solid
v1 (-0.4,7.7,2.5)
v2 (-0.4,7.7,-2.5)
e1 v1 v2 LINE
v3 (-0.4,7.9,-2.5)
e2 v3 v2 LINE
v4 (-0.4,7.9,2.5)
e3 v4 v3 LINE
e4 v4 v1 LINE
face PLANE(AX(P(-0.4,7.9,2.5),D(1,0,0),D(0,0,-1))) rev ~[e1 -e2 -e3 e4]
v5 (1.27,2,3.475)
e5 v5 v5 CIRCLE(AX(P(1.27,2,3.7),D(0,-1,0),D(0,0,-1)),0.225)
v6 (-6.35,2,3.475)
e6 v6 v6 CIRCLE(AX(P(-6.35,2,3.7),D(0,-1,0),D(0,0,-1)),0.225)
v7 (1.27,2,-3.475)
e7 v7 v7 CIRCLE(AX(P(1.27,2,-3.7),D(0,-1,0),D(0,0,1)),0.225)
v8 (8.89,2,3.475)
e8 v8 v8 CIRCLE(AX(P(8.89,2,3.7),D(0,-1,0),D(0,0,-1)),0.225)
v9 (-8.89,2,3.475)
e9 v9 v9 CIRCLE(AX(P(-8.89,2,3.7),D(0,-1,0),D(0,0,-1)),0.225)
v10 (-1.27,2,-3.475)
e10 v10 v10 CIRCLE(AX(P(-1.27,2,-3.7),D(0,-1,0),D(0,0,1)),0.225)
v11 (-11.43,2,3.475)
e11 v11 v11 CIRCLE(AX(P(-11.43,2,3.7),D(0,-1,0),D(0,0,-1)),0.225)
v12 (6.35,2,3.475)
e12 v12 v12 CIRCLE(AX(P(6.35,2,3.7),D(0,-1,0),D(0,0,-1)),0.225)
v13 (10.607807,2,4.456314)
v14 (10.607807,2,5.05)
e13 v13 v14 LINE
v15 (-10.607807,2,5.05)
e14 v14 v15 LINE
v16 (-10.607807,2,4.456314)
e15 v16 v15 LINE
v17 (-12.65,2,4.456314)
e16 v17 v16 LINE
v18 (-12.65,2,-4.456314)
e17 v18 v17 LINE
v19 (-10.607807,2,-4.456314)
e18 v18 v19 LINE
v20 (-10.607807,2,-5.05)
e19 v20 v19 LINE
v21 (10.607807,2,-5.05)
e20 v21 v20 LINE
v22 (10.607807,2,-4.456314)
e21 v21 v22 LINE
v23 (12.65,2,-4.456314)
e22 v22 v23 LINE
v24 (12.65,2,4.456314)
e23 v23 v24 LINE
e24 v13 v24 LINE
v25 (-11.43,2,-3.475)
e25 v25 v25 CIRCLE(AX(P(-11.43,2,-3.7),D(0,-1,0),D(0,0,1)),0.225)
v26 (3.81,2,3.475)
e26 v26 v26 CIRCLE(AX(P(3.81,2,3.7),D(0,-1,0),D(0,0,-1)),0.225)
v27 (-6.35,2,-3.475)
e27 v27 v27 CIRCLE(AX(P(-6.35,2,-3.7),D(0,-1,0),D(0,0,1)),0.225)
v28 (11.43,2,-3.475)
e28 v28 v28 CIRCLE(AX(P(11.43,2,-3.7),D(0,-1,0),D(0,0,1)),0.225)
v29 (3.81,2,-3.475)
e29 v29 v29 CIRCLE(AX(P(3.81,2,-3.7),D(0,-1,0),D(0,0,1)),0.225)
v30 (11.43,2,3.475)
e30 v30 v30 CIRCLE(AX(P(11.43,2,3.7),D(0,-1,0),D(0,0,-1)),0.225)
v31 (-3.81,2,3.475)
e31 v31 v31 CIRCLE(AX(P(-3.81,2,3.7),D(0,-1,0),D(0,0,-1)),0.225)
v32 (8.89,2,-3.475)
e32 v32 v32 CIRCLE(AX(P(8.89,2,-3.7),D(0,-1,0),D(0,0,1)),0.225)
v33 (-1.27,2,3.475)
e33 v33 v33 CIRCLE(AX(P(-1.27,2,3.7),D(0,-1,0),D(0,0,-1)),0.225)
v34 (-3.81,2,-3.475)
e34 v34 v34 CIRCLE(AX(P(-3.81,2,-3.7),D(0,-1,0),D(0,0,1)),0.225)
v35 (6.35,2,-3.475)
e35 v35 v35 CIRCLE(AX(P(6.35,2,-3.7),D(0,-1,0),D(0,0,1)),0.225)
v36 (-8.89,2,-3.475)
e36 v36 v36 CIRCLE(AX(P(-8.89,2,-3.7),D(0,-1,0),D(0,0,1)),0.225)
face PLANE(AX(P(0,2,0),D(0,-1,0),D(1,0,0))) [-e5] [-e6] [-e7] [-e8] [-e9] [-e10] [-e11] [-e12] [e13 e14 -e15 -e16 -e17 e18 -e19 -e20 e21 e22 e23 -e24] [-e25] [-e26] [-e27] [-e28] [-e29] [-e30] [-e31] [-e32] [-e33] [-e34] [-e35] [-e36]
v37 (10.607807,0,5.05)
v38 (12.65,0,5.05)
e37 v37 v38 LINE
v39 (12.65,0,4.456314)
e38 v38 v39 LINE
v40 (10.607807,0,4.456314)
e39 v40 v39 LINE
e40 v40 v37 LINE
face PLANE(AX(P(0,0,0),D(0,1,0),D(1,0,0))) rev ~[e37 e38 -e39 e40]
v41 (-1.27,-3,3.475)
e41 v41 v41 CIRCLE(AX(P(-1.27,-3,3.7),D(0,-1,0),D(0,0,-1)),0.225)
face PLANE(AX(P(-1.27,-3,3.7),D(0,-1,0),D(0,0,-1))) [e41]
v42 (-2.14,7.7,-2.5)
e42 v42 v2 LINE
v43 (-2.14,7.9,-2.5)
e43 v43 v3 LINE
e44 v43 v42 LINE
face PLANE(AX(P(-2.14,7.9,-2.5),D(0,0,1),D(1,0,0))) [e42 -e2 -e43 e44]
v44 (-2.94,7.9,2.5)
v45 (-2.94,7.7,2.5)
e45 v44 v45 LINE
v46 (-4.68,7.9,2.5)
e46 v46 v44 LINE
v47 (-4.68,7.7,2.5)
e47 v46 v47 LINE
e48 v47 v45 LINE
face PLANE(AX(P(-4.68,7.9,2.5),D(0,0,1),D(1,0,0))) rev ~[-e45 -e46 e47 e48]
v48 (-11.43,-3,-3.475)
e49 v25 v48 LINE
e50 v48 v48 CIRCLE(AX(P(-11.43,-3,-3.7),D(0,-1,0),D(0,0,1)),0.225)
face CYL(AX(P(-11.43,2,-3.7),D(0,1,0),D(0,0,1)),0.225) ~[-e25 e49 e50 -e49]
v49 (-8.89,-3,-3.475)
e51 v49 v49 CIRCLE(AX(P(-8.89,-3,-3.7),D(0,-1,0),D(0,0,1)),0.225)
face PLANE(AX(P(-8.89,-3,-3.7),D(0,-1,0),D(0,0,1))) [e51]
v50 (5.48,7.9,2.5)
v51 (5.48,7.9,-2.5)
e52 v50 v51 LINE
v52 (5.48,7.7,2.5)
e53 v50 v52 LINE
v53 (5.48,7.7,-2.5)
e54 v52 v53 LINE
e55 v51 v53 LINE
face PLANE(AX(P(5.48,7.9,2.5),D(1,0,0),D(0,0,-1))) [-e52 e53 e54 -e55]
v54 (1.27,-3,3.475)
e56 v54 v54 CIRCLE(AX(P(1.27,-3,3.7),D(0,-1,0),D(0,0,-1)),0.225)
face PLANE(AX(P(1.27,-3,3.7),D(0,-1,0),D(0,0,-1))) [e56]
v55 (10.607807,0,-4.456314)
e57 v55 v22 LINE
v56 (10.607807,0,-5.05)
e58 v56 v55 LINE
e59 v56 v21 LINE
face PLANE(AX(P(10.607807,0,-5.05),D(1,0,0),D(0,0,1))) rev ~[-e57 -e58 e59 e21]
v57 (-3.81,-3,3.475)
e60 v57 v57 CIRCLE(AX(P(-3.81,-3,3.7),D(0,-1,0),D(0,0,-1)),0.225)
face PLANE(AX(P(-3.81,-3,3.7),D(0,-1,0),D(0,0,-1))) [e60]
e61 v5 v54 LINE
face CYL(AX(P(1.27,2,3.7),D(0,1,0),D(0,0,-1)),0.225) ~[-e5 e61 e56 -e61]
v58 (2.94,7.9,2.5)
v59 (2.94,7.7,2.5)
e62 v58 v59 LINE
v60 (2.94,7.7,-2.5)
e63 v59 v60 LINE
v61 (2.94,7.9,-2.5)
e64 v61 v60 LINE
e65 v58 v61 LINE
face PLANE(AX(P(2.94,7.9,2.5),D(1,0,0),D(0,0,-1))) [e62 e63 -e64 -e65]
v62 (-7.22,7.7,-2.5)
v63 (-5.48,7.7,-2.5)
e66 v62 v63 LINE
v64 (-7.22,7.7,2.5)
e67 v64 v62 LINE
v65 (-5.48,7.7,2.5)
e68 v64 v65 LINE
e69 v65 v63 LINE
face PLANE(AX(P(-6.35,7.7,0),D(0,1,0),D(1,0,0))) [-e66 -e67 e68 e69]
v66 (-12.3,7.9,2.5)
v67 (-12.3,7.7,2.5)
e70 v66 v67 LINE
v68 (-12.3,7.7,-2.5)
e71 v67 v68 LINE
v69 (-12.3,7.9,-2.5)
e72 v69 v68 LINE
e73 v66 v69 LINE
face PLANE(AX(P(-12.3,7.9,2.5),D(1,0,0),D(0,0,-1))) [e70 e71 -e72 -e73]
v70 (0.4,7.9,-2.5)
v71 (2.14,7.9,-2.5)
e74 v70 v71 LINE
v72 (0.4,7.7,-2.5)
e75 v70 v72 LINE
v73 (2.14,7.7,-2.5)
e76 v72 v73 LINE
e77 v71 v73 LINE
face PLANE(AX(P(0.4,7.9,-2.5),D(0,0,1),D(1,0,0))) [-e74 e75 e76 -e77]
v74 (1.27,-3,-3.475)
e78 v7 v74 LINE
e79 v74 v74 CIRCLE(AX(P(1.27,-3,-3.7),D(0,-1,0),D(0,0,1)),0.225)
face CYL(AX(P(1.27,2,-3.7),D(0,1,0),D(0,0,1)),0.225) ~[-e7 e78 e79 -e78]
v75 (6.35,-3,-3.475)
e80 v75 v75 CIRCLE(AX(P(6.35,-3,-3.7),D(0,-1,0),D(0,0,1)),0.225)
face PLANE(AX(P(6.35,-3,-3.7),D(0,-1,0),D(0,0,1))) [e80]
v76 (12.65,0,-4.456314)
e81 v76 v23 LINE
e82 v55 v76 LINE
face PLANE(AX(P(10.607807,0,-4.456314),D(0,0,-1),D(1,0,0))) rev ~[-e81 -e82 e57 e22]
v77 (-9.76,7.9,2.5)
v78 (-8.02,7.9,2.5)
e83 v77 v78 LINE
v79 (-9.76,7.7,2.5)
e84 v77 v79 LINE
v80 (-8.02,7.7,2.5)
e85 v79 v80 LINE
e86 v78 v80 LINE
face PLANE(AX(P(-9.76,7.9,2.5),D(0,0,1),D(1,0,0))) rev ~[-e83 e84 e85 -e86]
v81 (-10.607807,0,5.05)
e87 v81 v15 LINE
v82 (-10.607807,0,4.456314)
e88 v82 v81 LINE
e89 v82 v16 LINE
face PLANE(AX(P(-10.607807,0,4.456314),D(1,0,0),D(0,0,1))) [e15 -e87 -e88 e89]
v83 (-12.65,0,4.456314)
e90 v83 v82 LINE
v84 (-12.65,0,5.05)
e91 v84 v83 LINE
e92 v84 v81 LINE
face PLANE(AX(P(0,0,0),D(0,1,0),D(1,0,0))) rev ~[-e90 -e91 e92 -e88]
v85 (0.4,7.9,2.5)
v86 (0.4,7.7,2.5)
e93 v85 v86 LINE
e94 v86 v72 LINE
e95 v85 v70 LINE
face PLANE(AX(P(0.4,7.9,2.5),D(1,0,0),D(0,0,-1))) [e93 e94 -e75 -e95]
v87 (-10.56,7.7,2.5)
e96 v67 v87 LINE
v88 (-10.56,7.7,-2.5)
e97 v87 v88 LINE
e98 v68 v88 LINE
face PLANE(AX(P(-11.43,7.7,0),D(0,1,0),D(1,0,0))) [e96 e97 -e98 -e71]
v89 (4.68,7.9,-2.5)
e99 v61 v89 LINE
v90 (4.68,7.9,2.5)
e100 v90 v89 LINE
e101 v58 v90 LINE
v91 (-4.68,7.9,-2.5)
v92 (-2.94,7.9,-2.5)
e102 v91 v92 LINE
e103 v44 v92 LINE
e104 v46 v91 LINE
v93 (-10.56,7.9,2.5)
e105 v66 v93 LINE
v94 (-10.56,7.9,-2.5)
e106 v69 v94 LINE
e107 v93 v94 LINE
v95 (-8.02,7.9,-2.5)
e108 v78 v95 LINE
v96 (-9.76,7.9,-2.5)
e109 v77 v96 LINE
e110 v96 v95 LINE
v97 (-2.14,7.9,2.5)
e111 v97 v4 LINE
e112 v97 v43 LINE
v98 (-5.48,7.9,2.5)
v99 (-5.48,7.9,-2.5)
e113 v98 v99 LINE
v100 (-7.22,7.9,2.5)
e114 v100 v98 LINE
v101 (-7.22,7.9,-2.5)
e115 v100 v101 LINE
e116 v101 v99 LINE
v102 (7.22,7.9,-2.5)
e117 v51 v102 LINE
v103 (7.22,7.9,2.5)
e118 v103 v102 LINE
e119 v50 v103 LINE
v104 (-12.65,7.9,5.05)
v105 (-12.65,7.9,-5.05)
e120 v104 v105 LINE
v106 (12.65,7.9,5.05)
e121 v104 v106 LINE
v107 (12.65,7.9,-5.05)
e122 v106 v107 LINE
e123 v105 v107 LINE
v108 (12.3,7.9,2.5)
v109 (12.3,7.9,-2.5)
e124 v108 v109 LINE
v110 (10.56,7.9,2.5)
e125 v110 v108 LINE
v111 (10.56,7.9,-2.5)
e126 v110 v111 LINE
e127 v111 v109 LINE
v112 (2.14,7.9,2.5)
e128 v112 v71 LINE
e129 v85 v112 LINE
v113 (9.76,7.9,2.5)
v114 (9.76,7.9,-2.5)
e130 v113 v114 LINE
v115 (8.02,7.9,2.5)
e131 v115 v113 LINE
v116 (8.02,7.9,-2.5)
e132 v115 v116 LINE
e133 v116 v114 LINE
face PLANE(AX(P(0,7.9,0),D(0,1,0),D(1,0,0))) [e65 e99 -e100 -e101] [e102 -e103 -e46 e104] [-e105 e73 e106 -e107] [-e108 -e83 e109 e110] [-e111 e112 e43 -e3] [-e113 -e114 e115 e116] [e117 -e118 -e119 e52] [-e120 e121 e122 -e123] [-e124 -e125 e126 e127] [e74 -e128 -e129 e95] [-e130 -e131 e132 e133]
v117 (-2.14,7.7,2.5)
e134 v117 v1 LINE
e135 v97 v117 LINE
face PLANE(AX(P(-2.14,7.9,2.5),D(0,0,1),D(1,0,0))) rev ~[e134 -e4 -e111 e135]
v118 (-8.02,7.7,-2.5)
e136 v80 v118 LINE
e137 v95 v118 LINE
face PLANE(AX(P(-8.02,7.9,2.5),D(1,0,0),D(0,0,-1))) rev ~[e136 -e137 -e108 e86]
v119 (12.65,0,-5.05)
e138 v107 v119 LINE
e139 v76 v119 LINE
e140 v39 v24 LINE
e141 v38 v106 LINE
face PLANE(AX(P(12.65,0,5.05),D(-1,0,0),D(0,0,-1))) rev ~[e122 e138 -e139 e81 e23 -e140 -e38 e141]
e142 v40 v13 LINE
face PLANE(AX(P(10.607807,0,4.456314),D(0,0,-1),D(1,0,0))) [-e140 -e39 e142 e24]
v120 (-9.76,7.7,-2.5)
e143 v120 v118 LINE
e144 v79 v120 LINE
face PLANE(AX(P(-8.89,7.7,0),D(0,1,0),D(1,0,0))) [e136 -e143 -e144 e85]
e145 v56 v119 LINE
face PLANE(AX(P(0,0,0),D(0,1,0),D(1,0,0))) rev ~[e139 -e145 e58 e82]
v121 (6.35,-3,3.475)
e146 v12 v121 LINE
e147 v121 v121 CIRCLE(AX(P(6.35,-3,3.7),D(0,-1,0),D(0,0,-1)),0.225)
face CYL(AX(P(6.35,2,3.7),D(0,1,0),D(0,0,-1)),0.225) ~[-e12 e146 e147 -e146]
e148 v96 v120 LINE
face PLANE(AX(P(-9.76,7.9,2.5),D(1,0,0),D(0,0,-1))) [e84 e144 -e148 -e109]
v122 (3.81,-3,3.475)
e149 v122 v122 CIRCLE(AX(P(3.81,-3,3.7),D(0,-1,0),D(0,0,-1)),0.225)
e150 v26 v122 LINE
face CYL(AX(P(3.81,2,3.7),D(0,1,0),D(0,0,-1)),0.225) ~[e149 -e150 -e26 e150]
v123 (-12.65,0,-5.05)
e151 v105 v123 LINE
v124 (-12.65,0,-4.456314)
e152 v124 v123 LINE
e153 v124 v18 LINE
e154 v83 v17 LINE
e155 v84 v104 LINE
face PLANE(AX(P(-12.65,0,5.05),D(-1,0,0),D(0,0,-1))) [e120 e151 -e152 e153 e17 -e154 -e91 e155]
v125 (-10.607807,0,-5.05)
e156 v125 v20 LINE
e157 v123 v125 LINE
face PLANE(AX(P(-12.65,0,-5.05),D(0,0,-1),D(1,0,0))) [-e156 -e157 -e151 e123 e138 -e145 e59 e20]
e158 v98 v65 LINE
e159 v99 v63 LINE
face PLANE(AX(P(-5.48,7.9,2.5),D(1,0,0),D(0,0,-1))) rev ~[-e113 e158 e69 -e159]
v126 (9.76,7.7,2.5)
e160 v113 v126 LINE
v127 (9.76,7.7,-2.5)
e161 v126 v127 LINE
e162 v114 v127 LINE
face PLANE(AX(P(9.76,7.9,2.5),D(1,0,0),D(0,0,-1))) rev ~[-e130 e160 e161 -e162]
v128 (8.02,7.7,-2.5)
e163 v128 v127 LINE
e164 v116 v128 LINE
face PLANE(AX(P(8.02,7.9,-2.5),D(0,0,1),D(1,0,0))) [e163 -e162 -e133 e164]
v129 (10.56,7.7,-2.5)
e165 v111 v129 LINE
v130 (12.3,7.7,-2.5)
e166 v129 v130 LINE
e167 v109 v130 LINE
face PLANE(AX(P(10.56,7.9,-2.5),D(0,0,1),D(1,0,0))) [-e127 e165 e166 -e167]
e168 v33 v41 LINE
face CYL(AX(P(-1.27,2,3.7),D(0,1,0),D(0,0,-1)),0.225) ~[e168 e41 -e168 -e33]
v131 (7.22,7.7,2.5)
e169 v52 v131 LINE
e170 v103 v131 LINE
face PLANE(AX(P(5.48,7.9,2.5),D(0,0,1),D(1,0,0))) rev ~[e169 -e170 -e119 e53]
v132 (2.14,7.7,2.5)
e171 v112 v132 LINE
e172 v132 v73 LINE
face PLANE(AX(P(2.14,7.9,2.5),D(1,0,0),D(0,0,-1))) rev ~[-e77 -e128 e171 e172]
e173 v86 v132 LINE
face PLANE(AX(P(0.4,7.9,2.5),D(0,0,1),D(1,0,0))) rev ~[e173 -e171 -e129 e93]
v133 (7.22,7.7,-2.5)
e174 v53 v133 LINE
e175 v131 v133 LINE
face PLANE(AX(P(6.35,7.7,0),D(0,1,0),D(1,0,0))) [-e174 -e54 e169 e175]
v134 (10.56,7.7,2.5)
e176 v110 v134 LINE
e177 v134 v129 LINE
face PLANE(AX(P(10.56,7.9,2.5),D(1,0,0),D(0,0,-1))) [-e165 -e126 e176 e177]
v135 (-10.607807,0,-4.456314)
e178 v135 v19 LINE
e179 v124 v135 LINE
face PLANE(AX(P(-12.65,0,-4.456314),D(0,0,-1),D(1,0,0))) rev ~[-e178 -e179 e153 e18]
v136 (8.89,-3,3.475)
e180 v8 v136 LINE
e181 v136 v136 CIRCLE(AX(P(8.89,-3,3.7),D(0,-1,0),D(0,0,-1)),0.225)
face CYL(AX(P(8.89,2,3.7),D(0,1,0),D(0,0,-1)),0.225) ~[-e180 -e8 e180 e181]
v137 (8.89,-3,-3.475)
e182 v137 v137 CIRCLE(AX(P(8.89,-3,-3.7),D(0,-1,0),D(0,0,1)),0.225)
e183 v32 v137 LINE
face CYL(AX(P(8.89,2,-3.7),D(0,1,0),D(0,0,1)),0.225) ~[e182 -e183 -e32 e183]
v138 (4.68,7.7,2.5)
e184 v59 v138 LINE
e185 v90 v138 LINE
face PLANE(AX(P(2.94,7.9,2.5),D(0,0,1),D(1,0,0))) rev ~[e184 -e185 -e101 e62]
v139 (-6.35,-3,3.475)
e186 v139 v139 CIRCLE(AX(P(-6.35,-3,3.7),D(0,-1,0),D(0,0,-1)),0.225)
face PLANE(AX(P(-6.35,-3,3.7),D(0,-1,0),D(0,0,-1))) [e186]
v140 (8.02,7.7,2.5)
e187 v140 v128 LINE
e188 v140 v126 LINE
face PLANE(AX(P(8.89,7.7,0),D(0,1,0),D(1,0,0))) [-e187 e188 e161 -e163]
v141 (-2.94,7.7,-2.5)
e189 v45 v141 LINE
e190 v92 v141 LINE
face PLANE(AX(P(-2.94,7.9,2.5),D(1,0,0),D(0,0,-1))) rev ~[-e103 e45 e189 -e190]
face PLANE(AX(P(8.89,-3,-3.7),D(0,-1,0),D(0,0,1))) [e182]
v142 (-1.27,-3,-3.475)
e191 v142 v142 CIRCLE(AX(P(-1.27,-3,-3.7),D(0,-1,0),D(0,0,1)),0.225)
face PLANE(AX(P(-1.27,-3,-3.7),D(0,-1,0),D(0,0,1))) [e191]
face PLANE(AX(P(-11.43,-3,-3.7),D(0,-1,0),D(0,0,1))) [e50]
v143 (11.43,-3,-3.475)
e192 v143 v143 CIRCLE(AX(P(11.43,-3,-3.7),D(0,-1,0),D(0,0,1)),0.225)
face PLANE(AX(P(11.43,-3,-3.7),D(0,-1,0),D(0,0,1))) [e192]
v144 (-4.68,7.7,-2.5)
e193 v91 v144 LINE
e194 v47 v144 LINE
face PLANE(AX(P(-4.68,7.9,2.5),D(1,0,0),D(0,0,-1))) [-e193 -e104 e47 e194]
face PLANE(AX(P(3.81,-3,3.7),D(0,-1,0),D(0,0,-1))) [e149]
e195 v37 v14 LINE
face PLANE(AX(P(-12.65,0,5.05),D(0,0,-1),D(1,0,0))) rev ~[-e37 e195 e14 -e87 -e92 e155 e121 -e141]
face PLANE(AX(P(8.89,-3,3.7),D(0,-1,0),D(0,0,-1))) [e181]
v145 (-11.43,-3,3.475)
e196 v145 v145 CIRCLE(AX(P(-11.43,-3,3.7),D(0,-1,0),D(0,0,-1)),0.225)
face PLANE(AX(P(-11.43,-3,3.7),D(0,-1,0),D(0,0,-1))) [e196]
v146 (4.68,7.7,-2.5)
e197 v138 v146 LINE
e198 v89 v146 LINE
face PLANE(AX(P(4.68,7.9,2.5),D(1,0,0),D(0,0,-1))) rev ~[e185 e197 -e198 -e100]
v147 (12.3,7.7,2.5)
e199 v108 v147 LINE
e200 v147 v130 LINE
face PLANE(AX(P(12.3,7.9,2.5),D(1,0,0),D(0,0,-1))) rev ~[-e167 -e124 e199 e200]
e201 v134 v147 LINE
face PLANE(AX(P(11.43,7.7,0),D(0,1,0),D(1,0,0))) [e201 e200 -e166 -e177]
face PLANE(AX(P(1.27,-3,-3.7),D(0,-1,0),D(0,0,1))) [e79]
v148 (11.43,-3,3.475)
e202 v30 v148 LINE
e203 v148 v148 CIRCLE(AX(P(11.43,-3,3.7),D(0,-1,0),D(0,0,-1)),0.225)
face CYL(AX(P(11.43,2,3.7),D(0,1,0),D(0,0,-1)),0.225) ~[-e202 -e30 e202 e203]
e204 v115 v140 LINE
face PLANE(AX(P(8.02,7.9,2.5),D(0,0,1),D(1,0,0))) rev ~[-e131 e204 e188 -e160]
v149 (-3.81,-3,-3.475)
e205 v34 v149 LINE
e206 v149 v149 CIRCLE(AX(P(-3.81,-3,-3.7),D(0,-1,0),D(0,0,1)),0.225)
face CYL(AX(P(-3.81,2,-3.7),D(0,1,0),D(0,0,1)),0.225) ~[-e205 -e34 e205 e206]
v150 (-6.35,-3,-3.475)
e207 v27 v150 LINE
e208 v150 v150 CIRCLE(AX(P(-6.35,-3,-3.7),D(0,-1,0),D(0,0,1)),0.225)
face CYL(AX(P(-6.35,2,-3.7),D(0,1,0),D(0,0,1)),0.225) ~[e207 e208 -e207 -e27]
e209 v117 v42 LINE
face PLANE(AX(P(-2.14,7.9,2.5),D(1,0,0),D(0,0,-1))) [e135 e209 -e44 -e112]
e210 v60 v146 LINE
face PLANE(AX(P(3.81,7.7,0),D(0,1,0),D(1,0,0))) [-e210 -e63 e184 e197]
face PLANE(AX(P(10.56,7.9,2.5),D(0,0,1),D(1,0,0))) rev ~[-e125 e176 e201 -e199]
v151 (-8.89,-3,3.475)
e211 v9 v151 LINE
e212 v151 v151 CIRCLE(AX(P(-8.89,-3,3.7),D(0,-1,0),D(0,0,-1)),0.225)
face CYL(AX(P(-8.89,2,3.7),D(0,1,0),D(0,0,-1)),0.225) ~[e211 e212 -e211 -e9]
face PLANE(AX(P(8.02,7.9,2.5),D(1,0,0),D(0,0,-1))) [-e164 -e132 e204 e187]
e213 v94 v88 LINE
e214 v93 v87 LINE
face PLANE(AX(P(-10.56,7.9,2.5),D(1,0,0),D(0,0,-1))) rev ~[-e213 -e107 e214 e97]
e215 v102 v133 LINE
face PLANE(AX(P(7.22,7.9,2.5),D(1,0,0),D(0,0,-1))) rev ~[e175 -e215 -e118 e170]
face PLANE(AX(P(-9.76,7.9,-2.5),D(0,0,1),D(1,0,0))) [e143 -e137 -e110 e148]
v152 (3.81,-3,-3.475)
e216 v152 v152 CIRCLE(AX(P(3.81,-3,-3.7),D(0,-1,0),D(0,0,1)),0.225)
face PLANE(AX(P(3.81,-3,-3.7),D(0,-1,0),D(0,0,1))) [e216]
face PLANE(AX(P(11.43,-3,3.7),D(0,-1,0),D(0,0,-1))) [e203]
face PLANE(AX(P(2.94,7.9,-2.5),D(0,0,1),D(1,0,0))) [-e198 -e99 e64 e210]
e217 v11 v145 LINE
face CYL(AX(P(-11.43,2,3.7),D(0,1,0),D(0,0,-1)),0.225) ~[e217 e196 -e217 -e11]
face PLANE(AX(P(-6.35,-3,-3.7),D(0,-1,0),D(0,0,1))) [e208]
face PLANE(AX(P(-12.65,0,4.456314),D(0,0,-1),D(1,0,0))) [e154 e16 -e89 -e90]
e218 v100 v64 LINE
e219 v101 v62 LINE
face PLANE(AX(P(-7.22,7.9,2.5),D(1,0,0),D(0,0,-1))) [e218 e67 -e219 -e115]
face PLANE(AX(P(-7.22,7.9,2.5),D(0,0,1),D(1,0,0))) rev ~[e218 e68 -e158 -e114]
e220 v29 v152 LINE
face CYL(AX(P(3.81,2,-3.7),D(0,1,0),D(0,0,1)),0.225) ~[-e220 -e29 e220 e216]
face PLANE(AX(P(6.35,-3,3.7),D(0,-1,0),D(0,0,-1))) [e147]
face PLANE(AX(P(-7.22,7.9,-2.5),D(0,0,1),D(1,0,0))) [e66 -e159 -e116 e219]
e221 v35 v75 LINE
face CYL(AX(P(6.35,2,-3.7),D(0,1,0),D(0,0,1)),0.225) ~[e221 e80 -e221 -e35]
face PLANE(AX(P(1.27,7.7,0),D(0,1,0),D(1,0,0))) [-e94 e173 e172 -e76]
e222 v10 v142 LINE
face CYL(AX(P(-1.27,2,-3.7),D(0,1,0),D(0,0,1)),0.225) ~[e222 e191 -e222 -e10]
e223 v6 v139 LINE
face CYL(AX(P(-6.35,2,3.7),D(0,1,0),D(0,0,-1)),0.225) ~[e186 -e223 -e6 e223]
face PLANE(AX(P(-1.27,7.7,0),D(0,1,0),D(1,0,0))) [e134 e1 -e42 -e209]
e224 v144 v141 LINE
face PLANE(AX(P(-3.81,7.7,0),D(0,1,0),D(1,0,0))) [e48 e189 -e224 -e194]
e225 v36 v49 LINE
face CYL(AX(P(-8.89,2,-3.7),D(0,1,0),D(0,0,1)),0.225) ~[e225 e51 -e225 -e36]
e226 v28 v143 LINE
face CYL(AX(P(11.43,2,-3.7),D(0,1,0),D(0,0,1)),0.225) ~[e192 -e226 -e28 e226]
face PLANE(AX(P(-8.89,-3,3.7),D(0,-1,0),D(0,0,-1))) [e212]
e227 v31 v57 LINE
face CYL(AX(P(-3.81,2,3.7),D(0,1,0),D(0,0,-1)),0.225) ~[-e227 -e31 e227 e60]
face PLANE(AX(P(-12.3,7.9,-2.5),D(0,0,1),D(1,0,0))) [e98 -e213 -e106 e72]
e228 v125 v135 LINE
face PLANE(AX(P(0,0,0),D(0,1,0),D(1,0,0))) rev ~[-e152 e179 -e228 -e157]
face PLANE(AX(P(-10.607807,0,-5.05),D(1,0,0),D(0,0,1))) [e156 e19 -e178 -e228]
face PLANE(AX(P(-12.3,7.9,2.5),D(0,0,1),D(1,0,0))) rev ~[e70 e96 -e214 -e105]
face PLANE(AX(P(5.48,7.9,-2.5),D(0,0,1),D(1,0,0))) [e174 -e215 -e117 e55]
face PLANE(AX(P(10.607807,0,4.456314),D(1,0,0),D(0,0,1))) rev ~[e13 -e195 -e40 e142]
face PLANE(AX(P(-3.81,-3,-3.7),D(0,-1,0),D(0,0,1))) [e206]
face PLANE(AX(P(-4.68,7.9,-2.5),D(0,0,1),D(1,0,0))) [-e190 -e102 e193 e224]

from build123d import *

# Parameters (mm, degrees)
SKETCH_1_W           = 25.3
SKETCH_1_H           = 10.1
EXTRUDE_1_DEPTH      = 7.9
SKETCH_3_W           = 1.74
SKETCH_3_H           = 5
CUT_EXTRUDE_2_DEPTH  = 0.2
SKETCH_2_OUTSIDE_W   = 32.972
SKETCH_2_OUTSIDE_H   = 17.772
SKETCH_2_OUTSIDE_W_2 = 2.042192643
SKETCH_2_OUTSIDE_H_2 = 0.593685633
CUT_EXTRUDE_1_DEPTH  = 2
SKETCH_4_R           = 0.225
EXTRUDE_2_DEPTH      = 5


with BuildPart() as part:
    # 草图1 → 凸台-拉伸1 (new body)
    with BuildSketch(Plane(origin=(0, 0, 0), x_dir=(1, 0, 0), z_dir=(0, 1, 0))):
        Rectangle(SKETCH_1_W, SKETCH_1_H)
    extrude(amount=EXTRUDE_1_DEPTH)

    # 草图3 → 切除-拉伸2 (cut)
    with BuildSketch(Plane(origin=(0, 7.9, 0), x_dir=(1, 0, 0), z_dir=(0, 1, 0))):
        with Locations((-1.27, 0)):
            Rectangle(SKETCH_3_W, SKETCH_3_H)
        with Locations((1.27, 0)):
            Rectangle(SKETCH_3_W, SKETCH_3_H)
        with Locations((3.81, 0)):
            Rectangle(SKETCH_3_W, SKETCH_3_H)
        with Locations((6.35, 0)):
            Rectangle(SKETCH_3_W, SKETCH_3_H)
        with Locations((8.89, 0)):
            Rectangle(SKETCH_3_W, SKETCH_3_H)
        with Locations((11.43, 0)):
            Rectangle(SKETCH_3_W, SKETCH_3_H)
        with Locations((-3.81, 0)):
            Rectangle(SKETCH_3_W, SKETCH_3_H)
        with Locations((-6.35, 0)):
            Rectangle(SKETCH_3_W, SKETCH_3_H)
        with Locations((-8.89, 0)):
            Rectangle(SKETCH_3_W, SKETCH_3_H)
        with Locations((-11.43, 0)):
            Rectangle(SKETCH_3_W, SKETCH_3_H)
    extrude(amount=-CUT_EXTRUDE_2_DEPTH, mode=Mode.SUBTRACT)

    # 草图2 outside → 切除-拉伸1 (cut)
    with BuildSketch(Plane.XZ):
        Rectangle(SKETCH_2_OUTSIDE_W, SKETCH_2_OUTSIDE_H)
        with Locations((-11.628903679, 4.753157184)):
            Rectangle(SKETCH_2_OUTSIDE_W_2, SKETCH_2_OUTSIDE_H_2, mode=Mode.SUBTRACT)
        with Locations((11.628903679, 4.753157184)):
            Rectangle(SKETCH_2_OUTSIDE_W_2, SKETCH_2_OUTSIDE_H_2, mode=Mode.SUBTRACT)
        with Locations((11.628903679, -4.753157184)):
            Rectangle(SKETCH_2_OUTSIDE_W_2, SKETCH_2_OUTSIDE_H_2, mode=Mode.SUBTRACT)
        with Locations((-11.628903679, -4.753157184)):
            Rectangle(SKETCH_2_OUTSIDE_W_2, SKETCH_2_OUTSIDE_H_2, mode=Mode.SUBTRACT)
    extrude(amount=-CUT_EXTRUDE_1_DEPTH, mode=Mode.SUBTRACT)

    # 草图4 → 凸台-拉伸2 (add)
    with BuildSketch(Plane.XZ.offset(-2)):
        with Locations(Location((-1.27, 3.7, 0), (0, 0, 270))):
            Circle(SKETCH_4_R)
        with Locations(Location((-1.27, -3.7, 0), (0, 0, 90))):
            Circle(SKETCH_4_R)
        with Locations(Location((1.27, 3.7, 0), (0, 0, 270))):
            Circle(SKETCH_4_R)
        with Locations(Location((1.27, -3.7, 0), (0, 0, 90))):
            Circle(SKETCH_4_R)
        with Locations(Location((3.81, 3.7, 0), (0, 0, 270))):
            Circle(SKETCH_4_R)
        with Locations(Location((3.81, -3.7, 0), (0, 0, 90))):
            Circle(SKETCH_4_R)
        with Locations(Location((6.35, 3.7, 0), (0, 0, 270))):
            Circle(SKETCH_4_R)
        with Locations(Location((6.35, -3.7, 0), (0, 0, 90))):
            Circle(SKETCH_4_R)
        with Locations(Location((8.89, 3.7, 0), (0, 0, 270))):
            Circle(SKETCH_4_R)
        with Locations(Location((8.89, -3.7, 0), (0, 0, 90))):
            Circle(SKETCH_4_R)
        with Locations(Location((11.43, 3.7, 0), (0, 0, 270))):
            Circle(SKETCH_4_R)
        with Locations(Location((11.43, -3.7, 0), (0, 0, 90))):
            Circle(SKETCH_4_R)
        with Locations(Location((-3.81, 3.7, 0), (0, 0, 270))):
            Circle(SKETCH_4_R)
        with Locations(Location((-3.81, -3.7, 0), (0, 0, 90))):
            Circle(SKETCH_4_R)
        with Locations(Location((-6.35, 3.7, 0), (0, 0, 270))):
            Circle(SKETCH_4_R)
        with Locations(Location((-6.35, -3.7, 0), (0, 0, 90))):
            Circle(SKETCH_4_R)
        with Locations(Location((-8.89, 3.7, 0), (0, 0, 270))):
            Circle(SKETCH_4_R)
        with Locations(Location((-8.89, -3.7, 0), (0, 0, 90))):
            Circle(SKETCH_4_R)
        with Locations(Location((-11.43, 3.7, 0), (0, 0, 270))):
            Circle(SKETCH_4_R)
        with Locations(Location((-11.43, -3.7, 0), (0, 0, 90))):
            Circle(SKETCH_4_R)
    extrude(amount=EXTRUDE_2_DEPTH)


solid = part.part
